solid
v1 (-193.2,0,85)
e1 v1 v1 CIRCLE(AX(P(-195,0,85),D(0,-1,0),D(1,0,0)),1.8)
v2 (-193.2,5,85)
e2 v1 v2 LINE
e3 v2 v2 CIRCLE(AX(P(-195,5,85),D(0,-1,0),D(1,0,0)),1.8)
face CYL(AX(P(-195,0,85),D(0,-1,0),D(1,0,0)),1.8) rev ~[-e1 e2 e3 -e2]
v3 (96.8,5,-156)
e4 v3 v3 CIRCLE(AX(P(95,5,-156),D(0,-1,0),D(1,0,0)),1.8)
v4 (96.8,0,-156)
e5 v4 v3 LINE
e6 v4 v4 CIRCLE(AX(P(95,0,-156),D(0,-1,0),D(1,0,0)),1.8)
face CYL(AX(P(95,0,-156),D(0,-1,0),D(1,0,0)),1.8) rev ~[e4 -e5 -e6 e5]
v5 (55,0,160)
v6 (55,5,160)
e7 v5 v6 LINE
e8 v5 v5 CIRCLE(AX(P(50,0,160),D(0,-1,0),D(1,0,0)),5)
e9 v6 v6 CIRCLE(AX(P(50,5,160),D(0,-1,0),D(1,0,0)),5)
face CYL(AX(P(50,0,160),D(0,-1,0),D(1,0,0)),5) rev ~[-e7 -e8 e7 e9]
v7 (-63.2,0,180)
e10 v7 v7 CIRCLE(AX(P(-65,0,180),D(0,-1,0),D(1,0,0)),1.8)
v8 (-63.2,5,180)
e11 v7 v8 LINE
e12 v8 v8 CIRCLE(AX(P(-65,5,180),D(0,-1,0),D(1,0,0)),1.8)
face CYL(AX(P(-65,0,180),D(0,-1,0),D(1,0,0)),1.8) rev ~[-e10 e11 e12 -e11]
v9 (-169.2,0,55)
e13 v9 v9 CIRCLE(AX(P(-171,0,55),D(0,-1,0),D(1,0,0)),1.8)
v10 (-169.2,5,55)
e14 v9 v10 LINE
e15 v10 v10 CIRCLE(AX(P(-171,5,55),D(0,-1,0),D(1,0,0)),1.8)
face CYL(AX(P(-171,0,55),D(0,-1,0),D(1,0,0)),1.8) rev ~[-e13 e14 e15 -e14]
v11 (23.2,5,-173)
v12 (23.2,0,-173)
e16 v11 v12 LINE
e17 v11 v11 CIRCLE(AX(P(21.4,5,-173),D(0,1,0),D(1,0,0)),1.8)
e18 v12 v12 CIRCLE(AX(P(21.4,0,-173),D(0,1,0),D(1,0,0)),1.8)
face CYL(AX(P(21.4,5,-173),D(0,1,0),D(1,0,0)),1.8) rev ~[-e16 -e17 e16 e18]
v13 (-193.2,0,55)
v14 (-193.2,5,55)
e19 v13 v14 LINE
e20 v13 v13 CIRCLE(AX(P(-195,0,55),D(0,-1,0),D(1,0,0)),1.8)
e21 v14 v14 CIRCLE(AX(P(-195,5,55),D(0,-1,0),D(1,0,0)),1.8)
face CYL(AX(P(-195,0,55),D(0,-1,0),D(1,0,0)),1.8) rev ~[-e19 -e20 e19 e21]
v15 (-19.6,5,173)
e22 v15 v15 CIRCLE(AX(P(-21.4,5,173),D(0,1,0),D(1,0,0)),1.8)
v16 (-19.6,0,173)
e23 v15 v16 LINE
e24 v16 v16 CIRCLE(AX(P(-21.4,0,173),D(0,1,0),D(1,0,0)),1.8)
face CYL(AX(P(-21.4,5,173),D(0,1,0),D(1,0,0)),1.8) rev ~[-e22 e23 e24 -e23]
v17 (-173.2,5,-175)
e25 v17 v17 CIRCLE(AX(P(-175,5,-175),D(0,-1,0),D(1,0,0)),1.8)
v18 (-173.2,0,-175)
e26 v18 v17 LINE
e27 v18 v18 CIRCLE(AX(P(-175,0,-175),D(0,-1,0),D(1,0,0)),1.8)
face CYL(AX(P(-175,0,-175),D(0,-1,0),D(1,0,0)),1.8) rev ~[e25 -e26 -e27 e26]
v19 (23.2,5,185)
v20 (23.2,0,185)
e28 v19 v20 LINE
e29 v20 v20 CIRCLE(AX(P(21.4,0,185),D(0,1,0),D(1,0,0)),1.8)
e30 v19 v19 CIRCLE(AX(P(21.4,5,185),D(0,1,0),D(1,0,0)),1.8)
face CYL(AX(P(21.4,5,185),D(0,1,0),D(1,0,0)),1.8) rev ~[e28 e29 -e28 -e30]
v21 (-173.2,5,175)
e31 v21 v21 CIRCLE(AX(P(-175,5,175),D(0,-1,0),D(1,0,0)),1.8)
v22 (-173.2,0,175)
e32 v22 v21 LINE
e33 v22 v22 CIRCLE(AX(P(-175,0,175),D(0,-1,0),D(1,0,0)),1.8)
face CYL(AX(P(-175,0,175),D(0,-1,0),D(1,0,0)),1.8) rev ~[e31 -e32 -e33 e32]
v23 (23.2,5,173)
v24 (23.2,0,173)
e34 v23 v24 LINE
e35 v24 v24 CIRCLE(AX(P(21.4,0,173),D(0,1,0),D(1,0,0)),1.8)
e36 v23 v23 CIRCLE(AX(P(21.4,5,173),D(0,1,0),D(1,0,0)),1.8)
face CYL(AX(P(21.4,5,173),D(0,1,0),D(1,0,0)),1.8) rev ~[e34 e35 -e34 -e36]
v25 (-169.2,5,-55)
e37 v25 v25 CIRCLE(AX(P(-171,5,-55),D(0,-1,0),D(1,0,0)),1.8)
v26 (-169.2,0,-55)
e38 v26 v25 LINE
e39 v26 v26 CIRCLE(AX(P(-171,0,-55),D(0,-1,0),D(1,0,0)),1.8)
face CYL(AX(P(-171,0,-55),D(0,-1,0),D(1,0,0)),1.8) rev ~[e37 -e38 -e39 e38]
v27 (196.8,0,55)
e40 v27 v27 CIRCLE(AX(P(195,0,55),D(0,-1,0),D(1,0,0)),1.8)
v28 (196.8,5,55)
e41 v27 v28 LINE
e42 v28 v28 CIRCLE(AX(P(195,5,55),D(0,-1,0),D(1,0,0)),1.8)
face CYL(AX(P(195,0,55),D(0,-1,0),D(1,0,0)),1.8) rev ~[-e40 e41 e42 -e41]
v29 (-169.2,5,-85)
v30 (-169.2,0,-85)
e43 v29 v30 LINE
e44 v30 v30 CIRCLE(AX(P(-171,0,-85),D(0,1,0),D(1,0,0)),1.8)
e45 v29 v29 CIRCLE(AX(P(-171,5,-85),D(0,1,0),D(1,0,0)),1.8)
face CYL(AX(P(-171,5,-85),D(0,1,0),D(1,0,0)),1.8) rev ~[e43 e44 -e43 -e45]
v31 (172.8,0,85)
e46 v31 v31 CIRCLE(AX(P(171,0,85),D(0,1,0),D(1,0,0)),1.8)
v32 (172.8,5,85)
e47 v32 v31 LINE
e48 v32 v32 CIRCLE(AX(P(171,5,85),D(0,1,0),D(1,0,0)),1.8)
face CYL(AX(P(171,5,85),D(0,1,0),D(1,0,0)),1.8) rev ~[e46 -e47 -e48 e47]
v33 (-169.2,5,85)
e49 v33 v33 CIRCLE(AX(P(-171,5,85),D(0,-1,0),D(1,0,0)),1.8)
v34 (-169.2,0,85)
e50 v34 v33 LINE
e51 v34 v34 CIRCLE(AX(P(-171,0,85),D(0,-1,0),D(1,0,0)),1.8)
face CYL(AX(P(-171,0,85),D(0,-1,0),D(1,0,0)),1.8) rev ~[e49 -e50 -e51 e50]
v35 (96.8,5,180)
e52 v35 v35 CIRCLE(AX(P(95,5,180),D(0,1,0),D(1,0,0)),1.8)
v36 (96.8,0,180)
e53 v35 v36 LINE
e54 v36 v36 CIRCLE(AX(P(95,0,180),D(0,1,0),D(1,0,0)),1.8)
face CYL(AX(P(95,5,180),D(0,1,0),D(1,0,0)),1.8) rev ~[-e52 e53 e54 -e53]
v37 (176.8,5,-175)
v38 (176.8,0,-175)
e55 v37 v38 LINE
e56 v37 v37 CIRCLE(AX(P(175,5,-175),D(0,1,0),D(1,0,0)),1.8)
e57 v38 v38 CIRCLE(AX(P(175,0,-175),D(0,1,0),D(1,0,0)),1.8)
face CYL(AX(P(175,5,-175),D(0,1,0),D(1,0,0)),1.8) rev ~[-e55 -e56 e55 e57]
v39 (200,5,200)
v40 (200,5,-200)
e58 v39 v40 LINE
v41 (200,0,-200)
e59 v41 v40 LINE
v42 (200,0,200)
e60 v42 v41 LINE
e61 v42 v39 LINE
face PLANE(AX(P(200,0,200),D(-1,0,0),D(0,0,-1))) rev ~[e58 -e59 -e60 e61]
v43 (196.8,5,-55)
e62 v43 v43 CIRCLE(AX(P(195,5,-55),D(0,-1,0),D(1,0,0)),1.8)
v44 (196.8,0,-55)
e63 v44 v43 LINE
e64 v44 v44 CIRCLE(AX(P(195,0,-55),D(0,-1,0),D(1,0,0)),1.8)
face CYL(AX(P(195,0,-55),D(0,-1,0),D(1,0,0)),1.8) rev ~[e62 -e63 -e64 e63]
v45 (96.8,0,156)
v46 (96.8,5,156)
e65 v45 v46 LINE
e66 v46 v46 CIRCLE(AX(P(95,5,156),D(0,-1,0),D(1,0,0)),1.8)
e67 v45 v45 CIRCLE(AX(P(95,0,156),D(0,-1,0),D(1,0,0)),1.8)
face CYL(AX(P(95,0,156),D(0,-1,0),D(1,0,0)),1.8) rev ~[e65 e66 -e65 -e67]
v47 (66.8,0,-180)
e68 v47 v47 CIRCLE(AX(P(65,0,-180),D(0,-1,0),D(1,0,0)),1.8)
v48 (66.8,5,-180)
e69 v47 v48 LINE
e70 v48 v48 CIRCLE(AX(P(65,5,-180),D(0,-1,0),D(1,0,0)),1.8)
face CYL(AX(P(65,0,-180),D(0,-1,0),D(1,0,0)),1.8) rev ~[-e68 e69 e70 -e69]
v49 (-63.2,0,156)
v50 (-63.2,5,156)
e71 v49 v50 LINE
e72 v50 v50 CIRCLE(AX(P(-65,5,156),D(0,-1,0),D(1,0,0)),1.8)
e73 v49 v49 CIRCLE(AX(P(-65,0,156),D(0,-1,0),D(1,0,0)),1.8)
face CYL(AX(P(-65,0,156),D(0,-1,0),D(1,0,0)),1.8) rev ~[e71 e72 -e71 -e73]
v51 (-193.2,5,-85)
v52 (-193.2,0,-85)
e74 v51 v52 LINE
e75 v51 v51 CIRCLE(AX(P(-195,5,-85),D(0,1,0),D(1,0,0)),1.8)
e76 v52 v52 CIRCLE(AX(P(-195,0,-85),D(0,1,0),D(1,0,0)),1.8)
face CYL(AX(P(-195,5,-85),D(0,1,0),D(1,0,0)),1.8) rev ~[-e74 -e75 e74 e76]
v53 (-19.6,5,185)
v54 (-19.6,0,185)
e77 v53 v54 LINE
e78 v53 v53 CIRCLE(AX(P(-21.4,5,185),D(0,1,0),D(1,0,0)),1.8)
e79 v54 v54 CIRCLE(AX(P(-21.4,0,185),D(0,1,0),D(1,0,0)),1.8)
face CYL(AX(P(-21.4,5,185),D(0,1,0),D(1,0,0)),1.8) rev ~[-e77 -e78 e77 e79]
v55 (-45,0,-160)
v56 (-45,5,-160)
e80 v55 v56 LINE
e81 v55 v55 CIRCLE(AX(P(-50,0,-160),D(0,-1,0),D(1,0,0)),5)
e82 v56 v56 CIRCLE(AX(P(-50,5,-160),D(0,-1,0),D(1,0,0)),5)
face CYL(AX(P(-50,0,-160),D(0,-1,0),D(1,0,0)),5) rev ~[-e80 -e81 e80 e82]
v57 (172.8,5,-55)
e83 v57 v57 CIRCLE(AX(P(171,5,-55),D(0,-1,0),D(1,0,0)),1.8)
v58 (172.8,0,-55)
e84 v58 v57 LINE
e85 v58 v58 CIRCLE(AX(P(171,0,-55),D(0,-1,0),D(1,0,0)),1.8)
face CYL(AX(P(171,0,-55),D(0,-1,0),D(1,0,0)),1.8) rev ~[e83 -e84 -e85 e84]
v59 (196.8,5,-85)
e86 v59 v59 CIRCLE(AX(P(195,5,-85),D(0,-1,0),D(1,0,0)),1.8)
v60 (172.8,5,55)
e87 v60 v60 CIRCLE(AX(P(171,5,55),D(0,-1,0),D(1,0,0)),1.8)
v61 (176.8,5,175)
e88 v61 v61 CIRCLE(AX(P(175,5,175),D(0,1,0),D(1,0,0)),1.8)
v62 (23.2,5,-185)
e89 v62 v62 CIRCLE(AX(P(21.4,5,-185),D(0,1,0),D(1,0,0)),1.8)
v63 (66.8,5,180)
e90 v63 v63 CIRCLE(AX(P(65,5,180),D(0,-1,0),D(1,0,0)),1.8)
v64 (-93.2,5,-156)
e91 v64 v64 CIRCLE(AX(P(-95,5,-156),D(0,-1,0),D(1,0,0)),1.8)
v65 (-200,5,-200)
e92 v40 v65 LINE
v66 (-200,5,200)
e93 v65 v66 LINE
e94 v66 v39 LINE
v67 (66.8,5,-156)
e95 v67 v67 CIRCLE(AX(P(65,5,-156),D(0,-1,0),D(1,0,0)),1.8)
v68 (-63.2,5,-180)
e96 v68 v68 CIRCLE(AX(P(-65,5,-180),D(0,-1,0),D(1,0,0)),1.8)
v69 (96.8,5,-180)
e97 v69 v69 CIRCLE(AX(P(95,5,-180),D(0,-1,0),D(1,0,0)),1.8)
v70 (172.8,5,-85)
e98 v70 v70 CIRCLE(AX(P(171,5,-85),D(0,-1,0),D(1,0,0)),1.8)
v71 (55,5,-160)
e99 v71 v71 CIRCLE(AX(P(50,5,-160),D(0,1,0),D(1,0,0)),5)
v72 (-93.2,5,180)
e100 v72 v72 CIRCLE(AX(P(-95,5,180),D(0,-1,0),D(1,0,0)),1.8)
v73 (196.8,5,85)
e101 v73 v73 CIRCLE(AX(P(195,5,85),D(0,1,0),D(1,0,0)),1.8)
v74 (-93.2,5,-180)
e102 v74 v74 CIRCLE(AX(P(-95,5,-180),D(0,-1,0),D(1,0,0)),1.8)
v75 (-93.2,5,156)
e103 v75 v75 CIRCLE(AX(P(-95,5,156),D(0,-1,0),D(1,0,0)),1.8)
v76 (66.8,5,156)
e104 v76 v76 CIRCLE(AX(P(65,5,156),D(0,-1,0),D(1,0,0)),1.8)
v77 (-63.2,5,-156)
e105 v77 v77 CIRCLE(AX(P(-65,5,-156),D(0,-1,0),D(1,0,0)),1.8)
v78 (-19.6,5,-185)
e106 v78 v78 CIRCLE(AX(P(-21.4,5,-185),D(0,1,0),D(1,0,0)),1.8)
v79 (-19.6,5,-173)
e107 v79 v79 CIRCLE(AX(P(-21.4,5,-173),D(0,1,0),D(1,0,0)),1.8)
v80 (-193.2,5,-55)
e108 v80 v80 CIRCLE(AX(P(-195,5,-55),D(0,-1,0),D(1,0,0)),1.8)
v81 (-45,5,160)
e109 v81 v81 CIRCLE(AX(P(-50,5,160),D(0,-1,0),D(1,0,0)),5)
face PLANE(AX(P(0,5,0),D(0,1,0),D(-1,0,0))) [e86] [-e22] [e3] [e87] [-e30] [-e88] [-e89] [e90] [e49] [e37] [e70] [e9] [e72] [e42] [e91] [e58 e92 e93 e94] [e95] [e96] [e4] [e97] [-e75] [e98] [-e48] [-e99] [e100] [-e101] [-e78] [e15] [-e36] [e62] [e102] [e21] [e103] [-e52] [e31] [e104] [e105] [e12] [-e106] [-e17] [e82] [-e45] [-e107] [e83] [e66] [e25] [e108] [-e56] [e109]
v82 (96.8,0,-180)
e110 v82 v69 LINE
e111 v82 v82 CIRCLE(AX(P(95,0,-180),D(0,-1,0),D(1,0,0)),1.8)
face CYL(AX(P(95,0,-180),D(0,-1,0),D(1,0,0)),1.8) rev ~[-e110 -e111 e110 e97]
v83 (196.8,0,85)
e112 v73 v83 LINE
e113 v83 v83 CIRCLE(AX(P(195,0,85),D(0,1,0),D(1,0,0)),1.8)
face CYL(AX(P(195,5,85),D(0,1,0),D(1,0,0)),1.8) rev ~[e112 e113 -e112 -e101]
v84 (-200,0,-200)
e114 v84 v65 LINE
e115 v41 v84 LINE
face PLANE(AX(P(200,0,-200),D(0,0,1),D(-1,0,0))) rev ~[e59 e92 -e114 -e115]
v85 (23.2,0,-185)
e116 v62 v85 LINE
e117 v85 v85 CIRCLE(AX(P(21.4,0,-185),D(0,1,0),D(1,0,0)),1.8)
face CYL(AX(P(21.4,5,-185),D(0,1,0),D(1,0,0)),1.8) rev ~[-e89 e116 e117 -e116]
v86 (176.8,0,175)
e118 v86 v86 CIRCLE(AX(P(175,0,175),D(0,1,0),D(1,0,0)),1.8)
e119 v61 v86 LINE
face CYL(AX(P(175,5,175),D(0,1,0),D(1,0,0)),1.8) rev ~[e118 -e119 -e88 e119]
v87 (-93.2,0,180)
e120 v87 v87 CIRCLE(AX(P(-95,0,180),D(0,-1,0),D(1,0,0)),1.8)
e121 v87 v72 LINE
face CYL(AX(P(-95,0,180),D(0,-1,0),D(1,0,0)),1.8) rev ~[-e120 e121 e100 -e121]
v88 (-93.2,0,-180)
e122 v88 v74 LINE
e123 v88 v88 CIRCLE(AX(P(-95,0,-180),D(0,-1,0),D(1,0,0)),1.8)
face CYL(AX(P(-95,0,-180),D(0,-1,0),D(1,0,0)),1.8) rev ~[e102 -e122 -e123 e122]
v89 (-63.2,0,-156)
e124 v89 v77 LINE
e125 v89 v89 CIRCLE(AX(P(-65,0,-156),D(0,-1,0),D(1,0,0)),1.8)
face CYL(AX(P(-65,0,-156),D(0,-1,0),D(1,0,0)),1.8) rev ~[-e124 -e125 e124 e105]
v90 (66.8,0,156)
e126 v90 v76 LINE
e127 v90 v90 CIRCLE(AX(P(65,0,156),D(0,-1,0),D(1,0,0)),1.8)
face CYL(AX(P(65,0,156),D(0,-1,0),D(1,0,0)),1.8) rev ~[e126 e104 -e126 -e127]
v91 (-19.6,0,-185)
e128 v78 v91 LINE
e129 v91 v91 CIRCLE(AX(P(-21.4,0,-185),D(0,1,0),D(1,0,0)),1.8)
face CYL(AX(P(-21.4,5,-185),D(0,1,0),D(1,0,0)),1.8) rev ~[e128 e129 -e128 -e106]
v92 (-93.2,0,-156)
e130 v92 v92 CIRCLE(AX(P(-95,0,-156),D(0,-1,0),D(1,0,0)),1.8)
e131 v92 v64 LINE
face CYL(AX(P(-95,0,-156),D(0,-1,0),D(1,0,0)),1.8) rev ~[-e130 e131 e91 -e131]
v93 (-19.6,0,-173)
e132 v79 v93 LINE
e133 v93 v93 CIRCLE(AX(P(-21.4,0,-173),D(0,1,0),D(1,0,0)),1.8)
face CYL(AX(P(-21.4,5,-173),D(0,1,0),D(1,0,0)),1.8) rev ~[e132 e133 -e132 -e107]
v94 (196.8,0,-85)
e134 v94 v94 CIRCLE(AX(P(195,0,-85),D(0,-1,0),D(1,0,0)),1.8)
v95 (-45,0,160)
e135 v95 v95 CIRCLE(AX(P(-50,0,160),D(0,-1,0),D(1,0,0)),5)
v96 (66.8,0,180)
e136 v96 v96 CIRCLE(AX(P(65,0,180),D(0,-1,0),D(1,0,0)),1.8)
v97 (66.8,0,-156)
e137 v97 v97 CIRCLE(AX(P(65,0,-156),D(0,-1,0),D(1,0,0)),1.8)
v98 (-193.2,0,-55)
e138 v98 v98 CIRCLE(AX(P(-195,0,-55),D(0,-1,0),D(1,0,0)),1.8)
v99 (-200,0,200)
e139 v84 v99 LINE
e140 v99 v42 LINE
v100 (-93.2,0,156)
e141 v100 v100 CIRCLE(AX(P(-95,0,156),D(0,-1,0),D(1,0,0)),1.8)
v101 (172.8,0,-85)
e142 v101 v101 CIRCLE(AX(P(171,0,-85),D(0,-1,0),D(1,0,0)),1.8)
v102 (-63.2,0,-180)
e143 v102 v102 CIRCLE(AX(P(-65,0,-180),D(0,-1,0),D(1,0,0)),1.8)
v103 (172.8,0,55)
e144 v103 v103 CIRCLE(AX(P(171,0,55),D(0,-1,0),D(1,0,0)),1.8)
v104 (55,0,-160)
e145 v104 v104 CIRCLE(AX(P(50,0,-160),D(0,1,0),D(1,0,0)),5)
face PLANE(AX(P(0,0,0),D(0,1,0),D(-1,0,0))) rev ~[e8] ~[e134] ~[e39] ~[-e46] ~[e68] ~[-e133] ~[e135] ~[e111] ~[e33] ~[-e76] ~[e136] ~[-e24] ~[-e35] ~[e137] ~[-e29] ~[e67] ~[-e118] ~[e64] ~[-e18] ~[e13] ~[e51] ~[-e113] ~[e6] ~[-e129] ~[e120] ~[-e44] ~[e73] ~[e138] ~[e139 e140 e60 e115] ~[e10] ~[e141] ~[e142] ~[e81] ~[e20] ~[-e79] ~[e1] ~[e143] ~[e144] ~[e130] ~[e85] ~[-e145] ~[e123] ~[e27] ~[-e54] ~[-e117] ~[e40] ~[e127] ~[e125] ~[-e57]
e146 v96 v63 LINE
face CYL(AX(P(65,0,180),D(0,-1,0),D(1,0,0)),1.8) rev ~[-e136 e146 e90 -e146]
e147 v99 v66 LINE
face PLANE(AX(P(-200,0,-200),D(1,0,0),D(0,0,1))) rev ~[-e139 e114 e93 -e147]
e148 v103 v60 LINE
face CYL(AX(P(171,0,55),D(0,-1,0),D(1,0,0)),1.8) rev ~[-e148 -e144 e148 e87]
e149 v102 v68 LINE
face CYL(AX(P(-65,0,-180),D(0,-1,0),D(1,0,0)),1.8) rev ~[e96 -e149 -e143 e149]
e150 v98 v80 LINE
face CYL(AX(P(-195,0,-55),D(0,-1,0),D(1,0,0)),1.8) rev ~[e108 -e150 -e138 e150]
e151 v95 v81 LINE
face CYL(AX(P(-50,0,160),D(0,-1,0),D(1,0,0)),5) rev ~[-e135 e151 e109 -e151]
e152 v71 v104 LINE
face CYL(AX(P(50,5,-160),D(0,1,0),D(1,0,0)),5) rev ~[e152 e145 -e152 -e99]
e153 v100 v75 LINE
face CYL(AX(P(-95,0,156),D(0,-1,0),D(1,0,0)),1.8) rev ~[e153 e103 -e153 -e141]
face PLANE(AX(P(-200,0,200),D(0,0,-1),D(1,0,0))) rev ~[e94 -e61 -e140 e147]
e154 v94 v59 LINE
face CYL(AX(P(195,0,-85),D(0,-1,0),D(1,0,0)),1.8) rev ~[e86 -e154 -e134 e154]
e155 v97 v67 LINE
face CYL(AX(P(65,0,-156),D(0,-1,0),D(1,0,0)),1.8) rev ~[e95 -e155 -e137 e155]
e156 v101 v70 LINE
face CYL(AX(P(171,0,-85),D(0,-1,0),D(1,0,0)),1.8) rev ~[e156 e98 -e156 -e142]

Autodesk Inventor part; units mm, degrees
ref_plane "YZ Plane" through (0, 0, 0) normal (1, 0, 0) x (0, 1, 0)
ref_plane "XZ Plane" through (0, 0, 0) normal (0, 1, 0) x (-1, 0, 0)
ref_plane "XY Plane" through (0, 0, 0) normal (0, 0, 1) x (1, 0, 0)
sketch "草图1" plane through (0, 0, 0) normal (0, 1, 0) x (-1, 0, 0)
  line L0 (200, 200) -> (-200, 200)
  line L1 (-200, 200) -> (-200, -200)
  line L2 (-200, -200) -> (200, -200)
  line L3 (200, -200) -> (200, 200)
  point P0 (0, 0)
  dimension "d0" = 400
  dimension "d1" = 400
extrude "拉伸1" add sketch "草图1" along normal blind 5
sketch "草图2" plane through (0, 5, 0) normal (0, 1, 0) x (1, 0, 0)
  circle A0 centre (175, 175) radius 1.8
  point P0 (0, 0)
  dimension "d4" = 3.6
extrude "拉伸2" cut sketch "草图2" against normal through all
sketch "草图3" plane through (0, 5, 0) normal (0, 1, 0) x (1, 0, 0)
  circle A0 centre (175, -175) radius 1.8
  point P0 (0, 0)
  dimension "d7" = 3.6
extrude "拉伸3" cut sketch "草图3" against normal through all
sketch "草图4" plane through (0, 0, 0) normal (0, -1, 0) x (1, 0, 0)
  circle A0 centre (-175, 175) radius 1.8
  point P0 (0, 0)
  dimension "d10" = 3.6
extrude "拉伸4" cut sketch "草图4" against normal through all
sketch "草图5" plane through (0, 0, 0) normal (0, -1, 0) x (1, 0, 0)
  circle A0 centre (-175, -175) radius 1.8
  point P0 (0, 0)
  dimension "d13" = 3.6
extrude "拉伸5" cut sketch "草图5" against normal through all
sketch "草图8" plane through (0, 5, 0) normal (0, 1, 0) x (1, 0, 0)
  circle A0 centre (-21.4, 185) radius 1.8
  point P0 (0, 0)
  dimension "d24" = 3.6
extrude "拉伸8" cut sketch "草图8" against normal through all
sketch "草图9" plane through (0, 5, 0) normal (0, 1, 0) x (1, 0, 0)
  circle A0 centre (21.4, 185) radius 1.8
  point P0 (0, 0)
  dimension "d27" = 3.6
extrude "拉伸9" cut sketch "草图9" against normal through all
sketch "草图10" plane through (0, 5, 0) normal (0, 1, 0) x (1, 0, 0)
  circle A0 centre (-21.4, 173) radius 1.8
  point P0 (0, 0)
  dimension "d30" = 3.6
extrude "拉伸10" cut sketch "草图10" against normal through all
sketch "草图11" plane through (0, 5, 0) normal (0, 1, 0) x (1, 0, 0)
  circle A0 centre (21.4, 173) radius 1.8
  point P0 (0, 0)
  dimension "d33" = 3.6
extrude "拉伸11" cut sketch "草图11" against normal through all
sketch "草图12" plane through (0, 5, 0) normal (0, 1, 0) x (1, 0, 0)
  circle A0 centre (21.4, -173) radius 1.8
  point P0 (0, 0)
  dimension "d36" = 3.6
extrude "拉伸12" cut sketch "草图12" against normal through all
sketch "草图13" plane through (0, 5, 0) normal (0, 1, 0) x (1, 0, 0)
  circle A0 centre (21.4, -185) radius 1.8
  point P0 (0, 0)
  dimension "d39" = 3.6
extrude "拉伸13" cut sketch "草图13" against normal through all
sketch "草图14" plane through (0, 5, 0) normal (0, 1, 0) x (1, 0, 0)
  circle A0 centre (-21.4, -185) radius 1.8
  point P0 (0, 0)
  dimension "d42" = 3.6
extrude "拉伸14" cut sketch "草图14" against normal through all
sketch "草图15" plane through (0, 5, 0) normal (0, 1, 0) x (1, 0, 0)
  circle A0 centre (-21.4, -173) radius 1.8
  point P0 (0, 0)
  dimension "d45" = 3.6
extrude "拉伸15" cut sketch "草图15" against normal through all
sketch "草图16" plane through (0, 5, 0) normal (0, 1, 0) x (1, 0, 0)
  circle A0 centre (50, 160) radius 5
  point P0 (0, 0)
  dimension "d48" = 10
extrude "拉伸16" cut sketch "草图16" against normal through all
sketch "草图17" plane through (0, 0, 0) normal (0, -1, 0) x (1, 0, 0)
  circle A0 centre (-50, 160) radius 5
  point P0 (0, 0)
  dimension "d51" = 10
extrude "拉伸17" cut sketch "草图17" against normal through all
sketch "草图18" plane through (0, 0, 0) normal (0, -1, 0) x (1, 0, 0)
  circle A0 centre (-50, -160) radius 5
  point P0 (0, 0)
  dimension "d54" = 10
extrude "拉伸18" cut sketch "草图18" against normal through all
sketch "草图19" plane through (0, 0, 0) normal (0, -1, 0) x (1, 0, 0)
  circle A0 centre (50, 160) radius 5
  point P0 (0, 0)
  dimension "d57" = 10
extrude "拉伸19" cut sketch "草图19" against normal through all
sketch "草图20" plane through (0, 5, 0) normal (0, 1, 0) x (1, 0, 0)
  point P0 (0, 0)
sketch "草图21" plane through (0, 5, 0) normal (0, 1, 0) x (1, 0, 0)
  point P0 (0, 0)
sketch "草图22" plane through (0, 5, 0) normal (0, 1, 0) x (1, 0, 0)
  circle A0 centre (195, -85) radius 1.8
  point P0 (0, 0)
  dimension "d60" = 3.6
extrude "拉伸20" cut sketch "草图22" against normal through all
sketch "草图23" plane through (0, 5, 0) normal (0, 1, 0) x (1, 0, 0)
  circle A0 centre (171, -85) radius 1.8
  point P0 (0, 0)
  dimension "d63" = 3.6
extrude "拉伸21" cut sketch "草图23" against normal through all
sketch "草图27" plane through (0, 5, 0) normal (0, 1, 0) x (1, 0, 0)
  circle A0 centre (-195, 85) radius 1.8
  point P0 (0, 0)
  dimension "d75" = 3.6
extrude "拉伸25" cut sketch "草图27" against normal through all
sketch "草图28" plane through (0, 5, 0) normal (0, 1, 0) x (1, 0, 0)
  circle A0 centre (-171, 85) radius 1.8
  point P0 (0, 0)
  dimension "d78" = 3.6
extrude "拉伸26" cut sketch "草图28" against normal through all
sketch "草图30" plane through (0, 0, 0) normal (0, -1, 0) x (1, 0, 0)
  circle A0 centre (171, 55) radius 1.8
  point P0 (0, 0)
  dimension "d85" = 3.6
extrude "拉伸27" cut sketch "草图30" against normal through all
sketch "草图31" plane through (0, 0, 0) normal (0, -1, 0) x (1, 0, 0)
  circle A0 centre (195, 55) radius 1.8
  point P0 (0, 0)
  dimension "d88" = 3.6
extrude "拉伸28" cut sketch "草图31" against normal through all
sketch "草图32" plane through (0, 0, 0) normal (0, -1, 0) x (1, 0, 0)
  circle A0 centre (-195, -55) radius 1.8
  point P0 (0, 0)
  dimension "d91" = 3.6
extrude "拉伸29" cut sketch "草图32" against normal through all
sketch "草图33" plane through (0, 0, 0) normal (0, -1, 0) x (1, 0, 0)
  circle A0 centre (-171, 55) radius 1.8
  point P0 (0, 0)
  dimension "d94" = 3.6
extrude "拉伸30" cut sketch "草图33" against normal through all
sketch "草图34" plane through (0, 0, 0) normal (0, -1, 0) x (1, 0, 0)
  circle A0 centre (-171, -55) radius 1.8
  point P0 (0, 0)
  dimension "d97" = 3.6
extrude "拉伸31" cut sketch "草图34" against normal through all
sketch "草图35" plane through (0, 0, 0) normal (0, -1, 0) x (1, 0, 0)
  circle A0 centre (-195, 55) radius 1.8
  point P0 (0, 0)
  dimension "d100" = 3.6
extrude "拉伸32" cut sketch "草图35" against normal through all
sketch "草图36" plane through (0, 0, 0) normal (0, -1, 0) x (1, 0, 0)
  circle A0 centre (-171, 85) radius 1.8
  point P0 (0, 0)
  dimension "d103" = 3.6
extrude "拉伸33" cut sketch "草图36" against normal through all
sketch "草图37" plane through (0, 0, 0) normal (0, -1, 0) x (1, 0, 0)
  circle A0 centre (-195, 85) radius 1.8
  point P0 (0, 0)
  dimension "d106" = 3.6
extrude "拉伸34" cut sketch "草图37" against normal through all
sketch "草图38" plane through (0, 0, 0) normal (0, -1, 0) x (1, 0, 0)
  circle A0 centre (195, -55) radius 1.8
  point P0 (0, 0)
  dimension "d109" = 3.6
extrude "拉伸35" cut sketch "草图38" against normal through all
sketch "草图39" plane through (0, 0, 0) normal (0, -1, 0) x (1, 0, 0)
  circle A0 centre (171, -55) radius 1.8
  point P0 (0, 0)
  dimension "d112" = 3.6
extrude "拉伸36" cut sketch "草图39" against normal through all
sketch "草图40" plane through (0, 0, 0) normal (0, -1, 0) x (1, 0, 0)
  circle A0 centre (171, -85) radius 1.8
  point P0 (0, 0)
  dimension "d115" = 3.6
extrude "拉伸37" cut sketch "草图40" against normal through all
sketch "草图41" plane through (0, 0, 0) normal (0, -1, 0) x (1, 0, 0)
  circle A0 centre (195, -85) radius 1.8
  point P0 (0, 0)
  dimension "d118" = 3.6
extrude "拉伸38" cut sketch "草图41" against normal through all
sketch "草图42" plane through (0, 0, 0) normal (0, -1, 0) x (1, 0, 0)
  circle A0 centre (65, 156) radius 1.8
  point P0 (0, 0)
  dimension "d121" = 3.6
extrude "拉伸39" cut sketch "草图42" against normal through all
sketch "草图43" plane through (0, 0, 0) normal (0, -1, 0) x (1, 0, 0)
  circle A0 centre (95, 156) radius 1.8
  point P0 (0, 0)
  dimension "d124" = 3.6
extrude "拉伸40" cut sketch "草图43" against normal through all
sketch "草图44" plane through (0, 0, 0) normal (0, -1, 0) x (1, 0, 0)
  circle A0 centre (65, 180) radius 1.8
  point P0 (0, 0)
  dimension "d127" = 3.6
extrude "拉伸41" cut sketch "草图44" against normal through all
sketch "草图45" plane through (0, 5, 0) normal (0, 1, 0) x (1, 0, 0)
  circle A0 centre (95, -180) radius 1.8
  point P0 (0, 0)
  dimension "d130" = 3.6
extrude "拉伸42" cut sketch "草图45" against normal through all
sketch "草图46" plane through (0, 0, 0) normal (0, -1, 0) x (1, 0, 0)
  circle A0 centre (65, -156) radius 1.8
  point P0 (0, 0)
  dimension "d133" = 3.6
extrude "拉伸43" cut sketch "草图46" against normal through all
sketch "草图47" plane through (0, 0, 0) normal (0, -1, 0) x (1, 0, 0)
  circle A0 centre (95, -156) radius 1.8
  point P0 (0, 0)
  dimension "d136" = 3.6
extrude "拉伸44" cut sketch "草图47" against normal through all
sketch "草图48" plane through (0, 0, 0) normal (0, -1, 0) x (1, 0, 0)
  circle A0 centre (65, -180) radius 1.8
  point P0 (0, 0)
  dimension "d139" = 3.6
extrude "拉伸45" cut sketch "草图48" against normal through all
sketch "草图49" plane through (0, 0, 0) normal (0, -1, 0) x (1, 0, 0)
  circle A0 centre (95, -180) radius 1.8
  point P0 (0, 0)
  dimension "d142" = 3.6
extrude "拉伸46" cut sketch "草图49" against normal through all
sketch "草图50" plane through (0, 0, 0) normal (0, -1, 0) x (1, 0, 0)
  circle A0 centre (-95, 156) radius 1.8
  point P0 (0, 0)
  dimension "d145" = 3.6
extrude "拉伸47" cut sketch "草图50" against normal through all
sketch "草图51" plane through (0, 0, 0) normal (0, -1, 0) x (1, 0, 0)
  circle A0 centre (-65, 156) radius 1.8
  point P0 (0, 0)
  dimension "d148" = 3.6
extrude "拉伸48" cut sketch "草图51" against normal through all
sketch "草图52" plane through (0, 0, 0) normal (0, -1, 0) x (1, 0, 0)
  circle A0 centre (-95, 180) radius 1.8
  point P0 (0, 0)
  dimension "d151" = 3.6
extrude "拉伸49" cut sketch "草图52" against normal through all
sketch "草图53" plane through (0, 0, 0) normal (0, -1, 0) x (1, 0, 0)
  circle A0 centre (-65, 180) radius 1.8
  point P0 (0, 0)
  dimension "d154" = 3.6
extrude "拉伸50" cut sketch "草图53" against normal through all
sketch "草图54" plane through (0, 0, 0) normal (0, -1, 0) x (1, 0, 0)
  circle A0 centre (-65, -156) radius 1.8
  point P0 (0, 0)
  dimension "d157" = 3.6
extrude "拉伸51" cut sketch "草图54" against normal through all
sketch "草图55" plane through (0, 0, 0) normal (0, -1, 0) x (1, 0, 0)
  circle A0 centre (-65, -180) radius 1.8
  point P0 (0, 0)
  dimension "d160" = 3.6
extrude "拉伸52" cut sketch "草图55" against normal through all
sketch "草图56" plane through (0, 0, 0) normal (0, -1, 0) x (1, 0, 0)
  circle A0 centre (-95, -156) radius 1.8
  point P0 (0, 0)
  dimension "d163" = 3.6
extrude "拉伸53" cut sketch "草图56" against normal through all
sketch "草图57" plane through (0, 0, 0) normal (0, -1, 0) x (1, 0, 0)
  circle A0 centre (-95, -180) radius 1.8
  point P0 (0, 0)
  dimension "d166" = 3.6
extrude "拉伸54" cut sketch "草图57" against normal through all
sketch "草图58" plane through (0, 0, 0) normal (0, -1, 0) x (1, 0, 0)
  point P0 (0, 0)
properties part number "上层板"
